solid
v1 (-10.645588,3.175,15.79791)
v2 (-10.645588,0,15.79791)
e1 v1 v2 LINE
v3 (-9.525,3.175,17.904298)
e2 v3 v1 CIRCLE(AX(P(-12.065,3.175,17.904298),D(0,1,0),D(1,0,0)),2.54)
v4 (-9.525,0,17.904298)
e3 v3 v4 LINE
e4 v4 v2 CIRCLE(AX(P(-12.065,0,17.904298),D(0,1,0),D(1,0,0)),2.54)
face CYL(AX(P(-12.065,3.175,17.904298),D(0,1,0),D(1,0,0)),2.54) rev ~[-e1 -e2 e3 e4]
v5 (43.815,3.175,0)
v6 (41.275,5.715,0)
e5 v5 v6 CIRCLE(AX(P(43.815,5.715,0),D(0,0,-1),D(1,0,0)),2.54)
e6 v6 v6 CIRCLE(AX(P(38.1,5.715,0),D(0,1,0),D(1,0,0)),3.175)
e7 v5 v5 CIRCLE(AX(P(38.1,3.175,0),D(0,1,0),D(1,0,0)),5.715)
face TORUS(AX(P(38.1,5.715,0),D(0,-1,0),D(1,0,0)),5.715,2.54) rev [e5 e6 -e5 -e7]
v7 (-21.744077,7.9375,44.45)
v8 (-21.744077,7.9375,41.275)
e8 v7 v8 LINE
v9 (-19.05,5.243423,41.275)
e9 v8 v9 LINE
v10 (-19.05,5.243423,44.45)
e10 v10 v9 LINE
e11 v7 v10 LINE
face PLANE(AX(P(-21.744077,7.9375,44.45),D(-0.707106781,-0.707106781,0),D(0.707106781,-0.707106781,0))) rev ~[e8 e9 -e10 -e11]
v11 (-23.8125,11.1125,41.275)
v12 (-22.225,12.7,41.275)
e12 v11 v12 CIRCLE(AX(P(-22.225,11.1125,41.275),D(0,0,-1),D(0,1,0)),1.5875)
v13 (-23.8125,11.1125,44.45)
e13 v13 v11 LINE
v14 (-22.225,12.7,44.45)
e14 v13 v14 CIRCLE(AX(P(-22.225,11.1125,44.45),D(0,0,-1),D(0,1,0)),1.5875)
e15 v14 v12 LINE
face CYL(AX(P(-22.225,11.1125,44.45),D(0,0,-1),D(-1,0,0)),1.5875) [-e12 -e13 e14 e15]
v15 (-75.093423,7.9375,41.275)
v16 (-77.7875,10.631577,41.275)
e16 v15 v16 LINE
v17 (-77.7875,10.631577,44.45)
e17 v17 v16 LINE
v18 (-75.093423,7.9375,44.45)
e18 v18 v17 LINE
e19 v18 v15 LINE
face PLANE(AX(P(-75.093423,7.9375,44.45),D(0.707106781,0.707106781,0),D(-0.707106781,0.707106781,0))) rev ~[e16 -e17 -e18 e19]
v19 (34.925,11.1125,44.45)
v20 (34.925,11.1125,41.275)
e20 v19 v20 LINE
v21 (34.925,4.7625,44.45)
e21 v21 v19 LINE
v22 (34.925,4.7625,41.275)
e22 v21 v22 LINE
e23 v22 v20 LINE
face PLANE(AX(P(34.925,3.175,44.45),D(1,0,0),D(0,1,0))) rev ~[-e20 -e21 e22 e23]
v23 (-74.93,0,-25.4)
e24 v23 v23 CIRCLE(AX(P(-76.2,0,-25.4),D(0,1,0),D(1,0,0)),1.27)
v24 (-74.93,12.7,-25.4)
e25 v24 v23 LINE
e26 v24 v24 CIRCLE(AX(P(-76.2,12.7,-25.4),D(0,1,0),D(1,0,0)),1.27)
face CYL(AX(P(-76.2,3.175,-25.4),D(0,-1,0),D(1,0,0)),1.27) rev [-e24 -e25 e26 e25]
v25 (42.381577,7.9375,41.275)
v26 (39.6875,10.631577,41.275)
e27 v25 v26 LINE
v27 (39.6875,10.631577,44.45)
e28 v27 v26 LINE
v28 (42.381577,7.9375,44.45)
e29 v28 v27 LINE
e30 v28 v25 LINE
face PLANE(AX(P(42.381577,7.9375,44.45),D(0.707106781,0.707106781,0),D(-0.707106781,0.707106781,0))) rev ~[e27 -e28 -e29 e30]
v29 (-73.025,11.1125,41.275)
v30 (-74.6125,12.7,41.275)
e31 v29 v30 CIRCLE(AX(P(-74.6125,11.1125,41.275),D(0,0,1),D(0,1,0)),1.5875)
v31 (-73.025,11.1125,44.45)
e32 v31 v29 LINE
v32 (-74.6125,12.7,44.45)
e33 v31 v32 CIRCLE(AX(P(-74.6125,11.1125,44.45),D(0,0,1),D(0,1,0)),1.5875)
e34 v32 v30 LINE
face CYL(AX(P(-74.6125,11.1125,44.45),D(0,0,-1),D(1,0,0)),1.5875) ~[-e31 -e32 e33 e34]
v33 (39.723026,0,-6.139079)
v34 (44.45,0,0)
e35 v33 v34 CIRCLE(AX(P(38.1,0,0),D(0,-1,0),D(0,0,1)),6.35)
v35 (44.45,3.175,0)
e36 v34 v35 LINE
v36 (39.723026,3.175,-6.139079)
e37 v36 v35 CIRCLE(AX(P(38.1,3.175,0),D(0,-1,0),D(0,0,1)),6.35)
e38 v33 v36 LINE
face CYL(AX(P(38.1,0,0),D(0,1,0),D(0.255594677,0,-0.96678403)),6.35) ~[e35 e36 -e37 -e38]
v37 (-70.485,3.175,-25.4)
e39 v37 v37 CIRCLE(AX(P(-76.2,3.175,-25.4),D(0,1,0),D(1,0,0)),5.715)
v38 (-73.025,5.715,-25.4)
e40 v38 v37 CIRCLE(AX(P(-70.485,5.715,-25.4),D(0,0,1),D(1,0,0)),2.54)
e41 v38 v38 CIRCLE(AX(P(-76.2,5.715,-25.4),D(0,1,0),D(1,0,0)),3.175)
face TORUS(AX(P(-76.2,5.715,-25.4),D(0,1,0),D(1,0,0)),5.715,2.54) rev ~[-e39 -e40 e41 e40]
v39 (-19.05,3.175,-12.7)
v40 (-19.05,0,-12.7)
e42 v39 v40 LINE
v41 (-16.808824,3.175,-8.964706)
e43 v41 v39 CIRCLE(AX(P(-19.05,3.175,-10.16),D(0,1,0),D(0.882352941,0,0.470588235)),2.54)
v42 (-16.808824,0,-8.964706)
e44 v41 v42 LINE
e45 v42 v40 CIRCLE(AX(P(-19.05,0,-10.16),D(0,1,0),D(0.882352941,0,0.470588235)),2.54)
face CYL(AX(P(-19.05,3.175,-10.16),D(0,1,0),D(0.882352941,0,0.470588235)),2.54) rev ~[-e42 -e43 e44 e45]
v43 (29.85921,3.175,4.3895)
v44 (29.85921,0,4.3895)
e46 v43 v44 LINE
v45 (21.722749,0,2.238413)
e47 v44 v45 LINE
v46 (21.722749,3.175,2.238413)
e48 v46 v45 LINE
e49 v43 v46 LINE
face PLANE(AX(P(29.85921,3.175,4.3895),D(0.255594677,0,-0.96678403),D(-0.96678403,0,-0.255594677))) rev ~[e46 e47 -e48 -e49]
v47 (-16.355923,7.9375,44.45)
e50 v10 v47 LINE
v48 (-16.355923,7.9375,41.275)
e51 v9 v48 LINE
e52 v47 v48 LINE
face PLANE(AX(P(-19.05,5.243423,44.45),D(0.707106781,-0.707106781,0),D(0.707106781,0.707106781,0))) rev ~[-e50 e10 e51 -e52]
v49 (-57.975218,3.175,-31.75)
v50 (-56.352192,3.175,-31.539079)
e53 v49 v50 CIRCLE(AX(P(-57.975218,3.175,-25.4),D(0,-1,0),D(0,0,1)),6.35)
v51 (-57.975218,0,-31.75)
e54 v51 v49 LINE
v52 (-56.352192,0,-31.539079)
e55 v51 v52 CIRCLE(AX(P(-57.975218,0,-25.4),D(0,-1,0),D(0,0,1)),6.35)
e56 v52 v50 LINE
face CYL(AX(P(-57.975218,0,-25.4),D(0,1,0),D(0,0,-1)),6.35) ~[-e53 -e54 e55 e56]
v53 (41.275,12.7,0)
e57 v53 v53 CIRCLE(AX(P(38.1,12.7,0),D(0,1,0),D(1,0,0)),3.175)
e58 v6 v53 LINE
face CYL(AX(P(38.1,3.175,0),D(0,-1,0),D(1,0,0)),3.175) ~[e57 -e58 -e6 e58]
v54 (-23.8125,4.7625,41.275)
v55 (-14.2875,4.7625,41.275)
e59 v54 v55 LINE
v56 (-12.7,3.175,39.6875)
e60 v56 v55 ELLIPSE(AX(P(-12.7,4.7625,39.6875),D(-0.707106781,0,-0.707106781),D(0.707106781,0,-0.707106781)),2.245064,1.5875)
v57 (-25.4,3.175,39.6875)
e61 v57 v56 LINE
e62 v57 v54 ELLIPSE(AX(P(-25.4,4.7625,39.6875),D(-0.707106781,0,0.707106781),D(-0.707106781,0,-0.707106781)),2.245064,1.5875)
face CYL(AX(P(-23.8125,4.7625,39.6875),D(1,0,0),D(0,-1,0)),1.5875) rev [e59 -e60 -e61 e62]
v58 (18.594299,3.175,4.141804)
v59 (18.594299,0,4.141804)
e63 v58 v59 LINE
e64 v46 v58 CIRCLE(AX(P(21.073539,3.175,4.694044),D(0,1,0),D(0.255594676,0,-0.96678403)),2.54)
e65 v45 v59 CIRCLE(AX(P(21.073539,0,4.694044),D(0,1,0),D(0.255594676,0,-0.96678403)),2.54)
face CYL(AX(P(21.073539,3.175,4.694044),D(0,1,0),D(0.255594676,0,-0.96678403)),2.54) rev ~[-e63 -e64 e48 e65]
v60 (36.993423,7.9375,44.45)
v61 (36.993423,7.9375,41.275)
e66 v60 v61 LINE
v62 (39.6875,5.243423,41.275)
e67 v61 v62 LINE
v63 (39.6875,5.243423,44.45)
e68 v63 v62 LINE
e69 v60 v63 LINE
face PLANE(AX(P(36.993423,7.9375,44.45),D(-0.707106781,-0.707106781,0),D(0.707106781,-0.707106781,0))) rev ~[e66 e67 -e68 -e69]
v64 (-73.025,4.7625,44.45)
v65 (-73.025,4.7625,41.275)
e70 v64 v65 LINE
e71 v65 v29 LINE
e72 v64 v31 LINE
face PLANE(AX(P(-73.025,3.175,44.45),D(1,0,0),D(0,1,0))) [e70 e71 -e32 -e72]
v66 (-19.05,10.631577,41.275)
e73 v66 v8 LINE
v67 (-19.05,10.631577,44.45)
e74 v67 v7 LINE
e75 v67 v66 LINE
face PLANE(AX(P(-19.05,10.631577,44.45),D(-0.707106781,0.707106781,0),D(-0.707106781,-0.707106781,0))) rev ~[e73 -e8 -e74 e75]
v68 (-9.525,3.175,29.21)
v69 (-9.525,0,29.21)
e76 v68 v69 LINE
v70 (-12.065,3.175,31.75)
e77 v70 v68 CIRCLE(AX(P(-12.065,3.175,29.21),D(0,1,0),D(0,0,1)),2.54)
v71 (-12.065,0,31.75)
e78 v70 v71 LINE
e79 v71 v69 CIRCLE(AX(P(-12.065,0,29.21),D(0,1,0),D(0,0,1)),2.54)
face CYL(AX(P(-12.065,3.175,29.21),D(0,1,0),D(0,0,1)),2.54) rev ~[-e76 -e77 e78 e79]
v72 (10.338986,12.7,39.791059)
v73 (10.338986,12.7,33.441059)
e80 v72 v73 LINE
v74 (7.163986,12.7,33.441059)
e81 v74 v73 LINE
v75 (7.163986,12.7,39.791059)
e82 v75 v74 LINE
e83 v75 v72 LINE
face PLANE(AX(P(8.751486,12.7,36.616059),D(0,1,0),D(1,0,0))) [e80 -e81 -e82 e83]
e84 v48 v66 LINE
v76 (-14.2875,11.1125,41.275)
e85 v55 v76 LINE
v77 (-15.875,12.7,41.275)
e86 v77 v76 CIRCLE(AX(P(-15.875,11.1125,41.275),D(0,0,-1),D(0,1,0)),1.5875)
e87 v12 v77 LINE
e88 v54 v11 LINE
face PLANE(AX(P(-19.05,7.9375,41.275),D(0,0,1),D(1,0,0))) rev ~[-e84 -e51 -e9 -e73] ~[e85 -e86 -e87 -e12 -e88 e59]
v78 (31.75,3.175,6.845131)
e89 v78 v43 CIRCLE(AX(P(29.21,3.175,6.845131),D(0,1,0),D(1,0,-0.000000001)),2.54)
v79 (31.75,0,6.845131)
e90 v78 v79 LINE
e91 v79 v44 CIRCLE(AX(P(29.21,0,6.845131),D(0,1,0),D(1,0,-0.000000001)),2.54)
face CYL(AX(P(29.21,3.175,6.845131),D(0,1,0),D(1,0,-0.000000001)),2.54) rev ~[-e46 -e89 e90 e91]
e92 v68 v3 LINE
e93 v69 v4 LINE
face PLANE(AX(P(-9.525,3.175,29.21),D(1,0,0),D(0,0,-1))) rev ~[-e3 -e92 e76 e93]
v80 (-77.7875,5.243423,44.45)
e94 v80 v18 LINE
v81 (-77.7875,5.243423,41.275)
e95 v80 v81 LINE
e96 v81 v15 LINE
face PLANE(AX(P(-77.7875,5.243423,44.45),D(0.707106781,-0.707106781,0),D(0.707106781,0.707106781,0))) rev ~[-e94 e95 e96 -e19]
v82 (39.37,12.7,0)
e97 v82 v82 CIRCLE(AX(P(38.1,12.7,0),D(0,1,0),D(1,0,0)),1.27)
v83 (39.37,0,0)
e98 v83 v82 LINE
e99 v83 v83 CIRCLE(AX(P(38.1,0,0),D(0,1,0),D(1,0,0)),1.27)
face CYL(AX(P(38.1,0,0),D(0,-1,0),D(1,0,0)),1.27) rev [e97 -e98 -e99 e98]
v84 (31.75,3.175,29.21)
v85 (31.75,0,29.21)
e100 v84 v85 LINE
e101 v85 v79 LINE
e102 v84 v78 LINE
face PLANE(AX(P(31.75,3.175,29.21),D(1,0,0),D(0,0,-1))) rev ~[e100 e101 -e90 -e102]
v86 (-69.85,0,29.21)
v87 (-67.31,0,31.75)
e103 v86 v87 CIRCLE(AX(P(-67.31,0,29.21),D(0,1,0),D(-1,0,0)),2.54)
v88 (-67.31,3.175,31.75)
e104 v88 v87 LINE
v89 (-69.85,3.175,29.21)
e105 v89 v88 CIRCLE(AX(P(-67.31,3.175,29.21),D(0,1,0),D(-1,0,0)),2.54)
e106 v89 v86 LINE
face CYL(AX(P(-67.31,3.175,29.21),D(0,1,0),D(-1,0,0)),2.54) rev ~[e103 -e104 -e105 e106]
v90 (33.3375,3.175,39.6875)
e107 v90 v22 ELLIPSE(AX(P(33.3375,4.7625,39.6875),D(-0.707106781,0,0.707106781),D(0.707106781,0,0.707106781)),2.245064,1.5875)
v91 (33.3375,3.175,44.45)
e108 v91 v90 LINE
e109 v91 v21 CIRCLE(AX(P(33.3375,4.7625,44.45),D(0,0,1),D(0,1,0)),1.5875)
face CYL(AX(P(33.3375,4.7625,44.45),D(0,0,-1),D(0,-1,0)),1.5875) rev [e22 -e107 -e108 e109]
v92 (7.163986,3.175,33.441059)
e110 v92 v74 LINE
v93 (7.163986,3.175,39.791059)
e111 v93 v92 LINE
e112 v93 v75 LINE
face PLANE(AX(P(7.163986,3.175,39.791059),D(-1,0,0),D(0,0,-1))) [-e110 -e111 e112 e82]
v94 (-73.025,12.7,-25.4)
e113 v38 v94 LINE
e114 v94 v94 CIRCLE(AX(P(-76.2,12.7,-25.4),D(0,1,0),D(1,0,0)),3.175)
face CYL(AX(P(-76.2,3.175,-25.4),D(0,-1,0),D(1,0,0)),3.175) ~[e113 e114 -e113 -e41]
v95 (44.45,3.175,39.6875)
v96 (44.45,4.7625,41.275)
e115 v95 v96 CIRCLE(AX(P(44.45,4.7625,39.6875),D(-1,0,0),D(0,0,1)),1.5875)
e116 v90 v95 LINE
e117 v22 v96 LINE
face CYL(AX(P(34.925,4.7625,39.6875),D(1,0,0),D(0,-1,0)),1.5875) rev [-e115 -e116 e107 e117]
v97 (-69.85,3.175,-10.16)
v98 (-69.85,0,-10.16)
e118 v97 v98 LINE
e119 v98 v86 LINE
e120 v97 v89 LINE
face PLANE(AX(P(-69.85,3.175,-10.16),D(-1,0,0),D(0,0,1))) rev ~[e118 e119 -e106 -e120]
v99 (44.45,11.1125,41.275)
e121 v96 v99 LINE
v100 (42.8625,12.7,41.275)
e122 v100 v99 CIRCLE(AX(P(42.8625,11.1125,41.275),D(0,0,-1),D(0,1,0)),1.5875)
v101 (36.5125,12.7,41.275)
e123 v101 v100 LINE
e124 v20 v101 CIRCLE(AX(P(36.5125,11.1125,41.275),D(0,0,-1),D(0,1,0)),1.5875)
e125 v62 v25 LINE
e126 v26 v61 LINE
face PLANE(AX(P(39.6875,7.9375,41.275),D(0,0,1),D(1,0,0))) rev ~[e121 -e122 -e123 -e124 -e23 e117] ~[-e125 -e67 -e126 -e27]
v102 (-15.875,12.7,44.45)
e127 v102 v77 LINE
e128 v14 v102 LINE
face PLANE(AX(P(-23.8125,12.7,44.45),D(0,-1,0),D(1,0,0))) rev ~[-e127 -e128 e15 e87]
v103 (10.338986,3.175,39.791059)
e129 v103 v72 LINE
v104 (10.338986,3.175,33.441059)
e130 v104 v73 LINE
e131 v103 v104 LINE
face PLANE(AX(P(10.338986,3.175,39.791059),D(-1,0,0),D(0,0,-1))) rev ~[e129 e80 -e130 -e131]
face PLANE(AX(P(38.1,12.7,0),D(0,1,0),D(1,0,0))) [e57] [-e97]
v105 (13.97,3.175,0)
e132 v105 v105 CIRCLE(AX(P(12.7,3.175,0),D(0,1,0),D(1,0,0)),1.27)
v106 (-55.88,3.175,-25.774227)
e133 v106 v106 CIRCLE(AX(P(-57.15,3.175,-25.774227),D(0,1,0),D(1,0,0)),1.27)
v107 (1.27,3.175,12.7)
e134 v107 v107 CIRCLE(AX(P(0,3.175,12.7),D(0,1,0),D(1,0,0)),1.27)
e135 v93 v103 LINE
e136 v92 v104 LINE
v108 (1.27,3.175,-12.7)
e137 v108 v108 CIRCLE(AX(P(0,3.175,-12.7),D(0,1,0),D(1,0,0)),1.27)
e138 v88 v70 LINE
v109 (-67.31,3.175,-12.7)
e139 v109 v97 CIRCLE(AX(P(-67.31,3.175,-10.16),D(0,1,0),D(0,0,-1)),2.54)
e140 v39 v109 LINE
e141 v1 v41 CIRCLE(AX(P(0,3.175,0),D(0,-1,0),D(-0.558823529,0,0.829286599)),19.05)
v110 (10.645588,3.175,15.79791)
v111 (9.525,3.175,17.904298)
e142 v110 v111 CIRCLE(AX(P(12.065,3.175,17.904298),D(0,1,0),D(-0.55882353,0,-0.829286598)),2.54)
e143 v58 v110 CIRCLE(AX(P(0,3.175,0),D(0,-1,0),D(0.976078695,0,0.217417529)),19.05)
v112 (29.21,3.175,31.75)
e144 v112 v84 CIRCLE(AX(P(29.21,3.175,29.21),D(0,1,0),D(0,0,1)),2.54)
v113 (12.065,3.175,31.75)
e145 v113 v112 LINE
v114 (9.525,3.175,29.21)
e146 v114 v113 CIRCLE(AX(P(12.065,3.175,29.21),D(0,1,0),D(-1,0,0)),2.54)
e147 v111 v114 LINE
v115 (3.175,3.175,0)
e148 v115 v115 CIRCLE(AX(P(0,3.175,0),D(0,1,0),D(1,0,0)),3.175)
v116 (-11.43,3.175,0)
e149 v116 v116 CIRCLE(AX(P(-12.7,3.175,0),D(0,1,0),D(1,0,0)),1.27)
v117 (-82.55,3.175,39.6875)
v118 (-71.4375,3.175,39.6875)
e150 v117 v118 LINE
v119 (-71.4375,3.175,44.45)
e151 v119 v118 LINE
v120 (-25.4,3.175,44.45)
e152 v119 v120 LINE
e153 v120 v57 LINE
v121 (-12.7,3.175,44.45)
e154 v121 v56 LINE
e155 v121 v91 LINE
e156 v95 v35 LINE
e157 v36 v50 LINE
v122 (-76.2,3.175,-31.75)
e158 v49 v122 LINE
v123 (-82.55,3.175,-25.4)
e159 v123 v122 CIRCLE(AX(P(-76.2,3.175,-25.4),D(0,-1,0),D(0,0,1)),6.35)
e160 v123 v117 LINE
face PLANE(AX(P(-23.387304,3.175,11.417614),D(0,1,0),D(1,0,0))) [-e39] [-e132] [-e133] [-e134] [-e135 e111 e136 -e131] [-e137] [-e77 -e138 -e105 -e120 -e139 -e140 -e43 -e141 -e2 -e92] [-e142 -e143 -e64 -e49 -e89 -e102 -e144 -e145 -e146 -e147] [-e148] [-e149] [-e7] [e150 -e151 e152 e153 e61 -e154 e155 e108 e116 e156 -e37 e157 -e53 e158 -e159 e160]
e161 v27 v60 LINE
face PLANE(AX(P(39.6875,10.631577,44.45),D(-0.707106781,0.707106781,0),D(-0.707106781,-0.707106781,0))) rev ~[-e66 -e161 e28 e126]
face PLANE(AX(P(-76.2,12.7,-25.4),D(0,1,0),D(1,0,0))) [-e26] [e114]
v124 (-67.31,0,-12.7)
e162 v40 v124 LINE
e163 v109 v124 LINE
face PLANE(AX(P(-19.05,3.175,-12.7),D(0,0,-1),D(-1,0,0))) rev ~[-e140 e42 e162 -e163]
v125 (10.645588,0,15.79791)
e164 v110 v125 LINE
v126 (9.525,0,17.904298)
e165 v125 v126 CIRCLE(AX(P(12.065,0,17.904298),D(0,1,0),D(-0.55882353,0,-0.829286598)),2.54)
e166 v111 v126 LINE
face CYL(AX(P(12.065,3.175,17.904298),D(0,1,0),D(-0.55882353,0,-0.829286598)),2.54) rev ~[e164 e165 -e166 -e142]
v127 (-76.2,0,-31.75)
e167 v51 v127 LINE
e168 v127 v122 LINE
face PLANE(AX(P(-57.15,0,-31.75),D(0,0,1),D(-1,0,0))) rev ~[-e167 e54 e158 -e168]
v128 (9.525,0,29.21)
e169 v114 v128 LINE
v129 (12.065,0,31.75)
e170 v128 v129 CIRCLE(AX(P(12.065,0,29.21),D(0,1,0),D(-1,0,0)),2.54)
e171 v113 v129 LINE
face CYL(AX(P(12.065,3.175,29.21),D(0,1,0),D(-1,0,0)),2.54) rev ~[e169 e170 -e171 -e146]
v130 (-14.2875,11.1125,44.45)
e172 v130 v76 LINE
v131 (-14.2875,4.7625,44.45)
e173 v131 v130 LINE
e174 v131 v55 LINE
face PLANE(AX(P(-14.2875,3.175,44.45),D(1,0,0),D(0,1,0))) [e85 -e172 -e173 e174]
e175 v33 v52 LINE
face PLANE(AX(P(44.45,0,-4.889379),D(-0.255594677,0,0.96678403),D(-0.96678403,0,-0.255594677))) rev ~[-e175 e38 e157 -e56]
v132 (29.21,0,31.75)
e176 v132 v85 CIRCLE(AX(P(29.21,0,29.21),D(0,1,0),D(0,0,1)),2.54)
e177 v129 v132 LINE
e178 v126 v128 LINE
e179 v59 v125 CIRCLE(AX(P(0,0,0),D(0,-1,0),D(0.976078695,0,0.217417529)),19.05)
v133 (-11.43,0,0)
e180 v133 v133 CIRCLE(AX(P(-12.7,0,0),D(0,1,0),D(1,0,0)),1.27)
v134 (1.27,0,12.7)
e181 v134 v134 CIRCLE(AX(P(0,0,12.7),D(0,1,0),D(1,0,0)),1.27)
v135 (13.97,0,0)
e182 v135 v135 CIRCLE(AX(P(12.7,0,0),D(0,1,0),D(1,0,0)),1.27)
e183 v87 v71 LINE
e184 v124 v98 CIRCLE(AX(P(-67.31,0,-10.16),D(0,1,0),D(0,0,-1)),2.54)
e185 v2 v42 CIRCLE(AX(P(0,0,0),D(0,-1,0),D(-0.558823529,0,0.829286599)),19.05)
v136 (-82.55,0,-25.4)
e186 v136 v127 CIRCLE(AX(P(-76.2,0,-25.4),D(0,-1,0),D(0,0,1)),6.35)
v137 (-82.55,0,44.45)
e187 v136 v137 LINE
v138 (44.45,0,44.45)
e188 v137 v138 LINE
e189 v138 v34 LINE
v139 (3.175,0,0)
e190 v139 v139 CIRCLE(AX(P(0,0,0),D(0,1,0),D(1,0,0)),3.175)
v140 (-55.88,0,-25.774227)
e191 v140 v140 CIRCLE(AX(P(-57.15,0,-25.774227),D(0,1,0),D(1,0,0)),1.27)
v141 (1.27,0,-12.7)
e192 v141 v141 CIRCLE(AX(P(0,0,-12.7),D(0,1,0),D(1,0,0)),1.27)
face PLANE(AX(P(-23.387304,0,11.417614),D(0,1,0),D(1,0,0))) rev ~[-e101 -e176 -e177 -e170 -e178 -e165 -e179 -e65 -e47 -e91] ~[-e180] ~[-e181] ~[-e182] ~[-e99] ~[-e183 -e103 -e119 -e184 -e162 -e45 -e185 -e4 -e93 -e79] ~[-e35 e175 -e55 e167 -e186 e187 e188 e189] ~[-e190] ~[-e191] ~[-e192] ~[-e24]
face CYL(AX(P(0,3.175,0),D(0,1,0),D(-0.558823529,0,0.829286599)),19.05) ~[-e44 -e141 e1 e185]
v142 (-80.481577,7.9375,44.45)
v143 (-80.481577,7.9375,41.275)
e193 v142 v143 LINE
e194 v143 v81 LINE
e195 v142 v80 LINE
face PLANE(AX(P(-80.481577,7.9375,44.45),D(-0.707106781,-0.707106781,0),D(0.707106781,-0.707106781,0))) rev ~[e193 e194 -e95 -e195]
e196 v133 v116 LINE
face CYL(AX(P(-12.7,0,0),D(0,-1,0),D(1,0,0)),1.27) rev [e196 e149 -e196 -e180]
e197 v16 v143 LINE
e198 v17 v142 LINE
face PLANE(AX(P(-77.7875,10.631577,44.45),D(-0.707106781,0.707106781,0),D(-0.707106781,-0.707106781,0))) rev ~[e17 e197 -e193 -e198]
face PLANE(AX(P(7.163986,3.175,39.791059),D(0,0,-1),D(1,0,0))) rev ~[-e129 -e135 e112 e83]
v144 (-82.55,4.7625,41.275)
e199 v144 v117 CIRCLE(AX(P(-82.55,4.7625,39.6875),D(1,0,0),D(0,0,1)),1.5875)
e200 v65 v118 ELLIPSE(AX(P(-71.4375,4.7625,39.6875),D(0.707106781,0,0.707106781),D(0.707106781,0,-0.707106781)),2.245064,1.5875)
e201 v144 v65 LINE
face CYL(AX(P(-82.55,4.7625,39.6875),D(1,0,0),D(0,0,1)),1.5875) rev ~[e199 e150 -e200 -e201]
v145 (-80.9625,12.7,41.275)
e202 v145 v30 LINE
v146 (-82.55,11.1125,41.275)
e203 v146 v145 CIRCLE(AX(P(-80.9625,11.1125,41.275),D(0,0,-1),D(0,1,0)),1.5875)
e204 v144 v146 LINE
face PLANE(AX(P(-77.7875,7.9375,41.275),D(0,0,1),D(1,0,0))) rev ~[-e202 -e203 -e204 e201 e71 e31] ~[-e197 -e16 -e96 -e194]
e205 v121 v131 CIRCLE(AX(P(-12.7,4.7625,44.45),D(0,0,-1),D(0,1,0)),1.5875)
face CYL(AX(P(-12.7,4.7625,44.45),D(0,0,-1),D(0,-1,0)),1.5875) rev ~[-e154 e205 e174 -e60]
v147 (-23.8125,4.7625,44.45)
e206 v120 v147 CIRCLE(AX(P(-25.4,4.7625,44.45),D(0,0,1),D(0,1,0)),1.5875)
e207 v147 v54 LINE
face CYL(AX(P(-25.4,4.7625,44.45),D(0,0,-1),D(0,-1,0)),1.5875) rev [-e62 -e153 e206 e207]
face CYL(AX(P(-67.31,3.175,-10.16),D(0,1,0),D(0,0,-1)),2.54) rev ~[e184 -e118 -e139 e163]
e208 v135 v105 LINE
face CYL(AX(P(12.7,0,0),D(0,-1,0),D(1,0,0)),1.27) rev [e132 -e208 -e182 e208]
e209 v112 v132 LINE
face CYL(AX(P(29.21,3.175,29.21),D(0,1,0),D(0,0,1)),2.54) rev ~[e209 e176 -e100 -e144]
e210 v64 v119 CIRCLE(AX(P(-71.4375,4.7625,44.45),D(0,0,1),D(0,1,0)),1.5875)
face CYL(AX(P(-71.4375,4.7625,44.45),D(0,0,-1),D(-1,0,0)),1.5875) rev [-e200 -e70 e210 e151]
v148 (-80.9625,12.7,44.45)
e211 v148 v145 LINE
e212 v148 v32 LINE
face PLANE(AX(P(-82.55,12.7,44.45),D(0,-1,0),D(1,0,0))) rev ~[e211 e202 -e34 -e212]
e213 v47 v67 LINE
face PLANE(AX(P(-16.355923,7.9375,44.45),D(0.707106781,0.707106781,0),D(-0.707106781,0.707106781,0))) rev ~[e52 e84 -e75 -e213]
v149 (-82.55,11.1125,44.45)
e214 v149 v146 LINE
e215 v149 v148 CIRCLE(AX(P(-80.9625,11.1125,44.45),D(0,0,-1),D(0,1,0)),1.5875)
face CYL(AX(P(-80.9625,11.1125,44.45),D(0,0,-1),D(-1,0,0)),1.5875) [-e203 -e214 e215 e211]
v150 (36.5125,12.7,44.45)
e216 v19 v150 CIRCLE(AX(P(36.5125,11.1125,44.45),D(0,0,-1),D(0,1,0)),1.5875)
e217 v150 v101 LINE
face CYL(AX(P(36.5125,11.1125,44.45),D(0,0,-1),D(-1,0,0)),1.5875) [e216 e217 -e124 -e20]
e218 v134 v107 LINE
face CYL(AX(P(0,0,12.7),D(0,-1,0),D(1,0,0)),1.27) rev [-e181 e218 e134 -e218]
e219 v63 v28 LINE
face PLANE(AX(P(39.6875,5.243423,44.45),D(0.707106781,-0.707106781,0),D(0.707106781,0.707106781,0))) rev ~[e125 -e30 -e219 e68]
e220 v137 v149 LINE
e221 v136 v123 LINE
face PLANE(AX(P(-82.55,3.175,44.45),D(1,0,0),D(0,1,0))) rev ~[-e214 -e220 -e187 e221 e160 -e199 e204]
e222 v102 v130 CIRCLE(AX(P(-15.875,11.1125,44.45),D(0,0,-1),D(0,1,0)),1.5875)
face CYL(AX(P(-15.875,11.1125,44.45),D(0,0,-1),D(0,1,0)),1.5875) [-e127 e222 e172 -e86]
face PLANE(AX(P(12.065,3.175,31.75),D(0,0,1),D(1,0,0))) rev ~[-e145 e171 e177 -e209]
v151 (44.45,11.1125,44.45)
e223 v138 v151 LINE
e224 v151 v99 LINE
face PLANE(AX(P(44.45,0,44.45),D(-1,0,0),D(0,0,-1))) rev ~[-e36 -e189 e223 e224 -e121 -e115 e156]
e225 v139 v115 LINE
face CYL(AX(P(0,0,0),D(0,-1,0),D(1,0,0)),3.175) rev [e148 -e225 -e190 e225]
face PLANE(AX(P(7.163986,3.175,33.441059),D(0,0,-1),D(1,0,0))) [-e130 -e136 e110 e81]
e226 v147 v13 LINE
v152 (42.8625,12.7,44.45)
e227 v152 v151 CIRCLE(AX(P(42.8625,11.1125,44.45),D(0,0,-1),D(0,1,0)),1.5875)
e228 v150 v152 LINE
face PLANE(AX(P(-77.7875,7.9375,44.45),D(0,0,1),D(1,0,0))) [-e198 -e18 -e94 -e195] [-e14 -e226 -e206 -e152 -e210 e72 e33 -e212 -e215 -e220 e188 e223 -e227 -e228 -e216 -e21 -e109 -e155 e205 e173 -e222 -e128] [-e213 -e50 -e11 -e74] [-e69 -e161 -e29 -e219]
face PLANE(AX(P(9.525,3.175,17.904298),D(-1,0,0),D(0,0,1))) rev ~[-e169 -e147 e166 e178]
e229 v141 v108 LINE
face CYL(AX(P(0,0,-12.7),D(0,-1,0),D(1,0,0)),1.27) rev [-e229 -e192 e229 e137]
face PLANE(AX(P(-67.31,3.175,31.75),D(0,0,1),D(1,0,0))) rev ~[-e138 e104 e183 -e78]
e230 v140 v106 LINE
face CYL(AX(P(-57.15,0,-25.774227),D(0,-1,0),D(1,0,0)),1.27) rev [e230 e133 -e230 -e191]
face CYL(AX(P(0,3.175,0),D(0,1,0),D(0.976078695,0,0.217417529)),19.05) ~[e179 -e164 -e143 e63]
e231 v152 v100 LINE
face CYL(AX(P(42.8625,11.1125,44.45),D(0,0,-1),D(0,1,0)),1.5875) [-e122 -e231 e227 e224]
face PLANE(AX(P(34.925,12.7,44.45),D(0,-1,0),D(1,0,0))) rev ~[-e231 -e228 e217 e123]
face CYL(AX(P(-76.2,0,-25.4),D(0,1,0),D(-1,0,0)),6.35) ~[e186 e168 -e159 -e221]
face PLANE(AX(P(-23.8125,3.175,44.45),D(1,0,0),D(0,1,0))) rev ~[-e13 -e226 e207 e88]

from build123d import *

# Parameters (mm, degrees)
SKETCH1_R           = 3.175
SKETCH1_R_2         = 1.27
BOSS_EXTRUDE1_DEPTH = 3.175
CUT_EXTRUDE1_DEPTH  = 3.175
FILLET1_R           = 6.35
SKETCH3_W           = 9.525
SKETCH3_H           = 9.525
BOSS_EXTRUDE2_DEPTH = 3.175
FILLET2_R           = 1.5875
SKETCH4_R           = 3.175
SKETCH4_R_2         = 1.27
BOSS_EXTRUDE3_DEPTH = 9.525
SKETCH5_W           = 3.175
SKETCH5_H           = 6.35
BOSS_EXTRUDE4_DEPTH = 9.525
FILLET4_R           = 2.54


with BuildPart() as part:
    # Sketch1 → Boss-Extrude1 (new body)
    with BuildSketch(Plane(origin=(0, 0, 0), x_dir=(1, 0, 0), z_dir=(0, 1, 0))):
        Polygon((-82.55, 31.75), (-82.55, -44.45), (44.45, -44.45), (44.45, 4.889379277), (-57.15, 31.75), align=None)
        Circle(SKETCH1_R, mode=Mode.SUBTRACT)
        with Locations((0, 12.7)):
            Circle(SKETCH1_R_2, mode=Mode.SUBTRACT)
        with Locations((12.7, 0)):
            Circle(SKETCH1_R_2, mode=Mode.SUBTRACT)
        with Locations((0, -12.7)):
            Circle(SKETCH1_R_2, mode=Mode.SUBTRACT)
        with Locations((-12.7, 0)):
            Circle(SKETCH1_R_2, mode=Mode.SUBTRACT)
        with Locations((-57.15, 25.774227063)):
            Circle(SKETCH1_R_2, mode=Mode.SUBTRACT)
        with Locations((-76.2, 25.4)):
            Circle(SKETCH1_R_2, mode=Mode.SUBTRACT)
        with Locations((38.1, 0)):
            Circle(SKETCH1_R_2, mode=Mode.SUBTRACT)
    extrude(amount=BOSS_EXTRUDE1_DEPTH)

    # Sketch2 → Cut-Extrude1 (cut)
    with BuildSketch(Plane(origin=(0, 3.175, 0), x_dir=(1, 0, 0), z_dir=(0, 1, 0))):
        with BuildLine():
            Line((-69.85, 10.16), (-69.85, -29.21))
            ThreePointArc((-69.85, -29.21), (-69.106051224, -31.006051224), (-67.31, -31.75))
            Line((-67.31, -31.75), (-12.065, -31.75))
            ThreePointArc((-12.065, -31.75), (-10.268948776, -31.006051224), (-9.525, -29.21))
            Line((-9.525, -29.21), (-9.525, -17.904297668))
            ThreePointArc((-9.525, -17.904297668), (-9.822578777, -16.711340394), (-10.645588235, -15.797909707))
            ThreePointArc((-10.645588235, -15.797909707), (-18.486020774, -4.6010364), (-16.808823529, 8.964705882))
            ThreePointArc((-16.808823529, 8.964705882), (-16.871967969, 11.466819219), (-19.05, 12.7))
            Line((-19.05, 12.7), (-67.31, 12.7))
            ThreePointArc((-67.31, 12.7), (-69.106051224, 11.956051224), (-69.85, 10.16))
        make_face()
        with BuildLine():
            Line((9.525, -17.904297668), (9.525, -29.21))
            ThreePointArc((9.525, -29.21), (10.268948776, -31.006051224), (12.065, -31.75))
            Line((12.065, -31.75), (29.21, -31.75))
            ThreePointArc((29.21, -31.75), (31.006051224, -31.006051224), (31.75, -29.21))
            Line((31.75, -29.21), (31.75, -6.845130987))
            ThreePointArc((31.75, -6.845130987), (31.222535045, -5.295517264), (29.859210479, -4.38949955))
            Line((29.859210479, -4.38949955), (21.722749497, -2.23841301))
            ThreePointArc((21.722749497, -2.23841301), (19.753320798, -2.524108077), (18.594299133, -4.141803924))
            ThreePointArc((18.594299133, -4.141803924), (15.73877231, -10.732825637), (10.645588235, -15.797909707))
            ThreePointArc((10.645588235, -15.797909707), (9.822578777, -16.711340394), (9.525, -17.904297668))
        make_face()
    extrude(amount=-CUT_EXTRUDE1_DEPTH, mode=Mode.SUBTRACT)

    # Fillet1
    fillet1_edges = [part.edges().sort_by_distance(p)[0] for p in [
        (-57.15, 1.5875, -31.75),
        (44.45, 1.5875, -4.889379277),
        (-82.55, 1.5875, -31.75),
    ]]
    fillet(fillet1_edges, radius=FILLET1_R)

    # Sketch3 → Boss-Extrude2 (add)
    with BuildSketch(Plane.XY.offset(44.45)):
        with Locations((-77.7875, 7.9375)):
            Rectangle(SKETCH3_W, SKETCH3_H)
        Polygon((-77.7875, 5.243423164), (-75.093423164, 7.9375), (-77.7875, 10.631576836), (-80.481576836, 7.9375), align=None, mode=Mode.SUBTRACT)
        with Locations((39.6875, 7.9375)):
            Rectangle(SKETCH3_W, SKETCH3_H)
        Polygon((39.6875, 5.243423164), (42.381576836, 7.9375), (39.6875, 10.631576836), (36.993423164, 7.9375), align=None, mode=Mode.SUBTRACT)
        with Locations((-19.05, 7.9375)):
            Rectangle(SKETCH3_W, SKETCH3_H)
        Polygon((-19.05, 5.243423164), (-16.355923164, 7.9375), (-19.05, 10.631576836), (-21.744076836, 7.9375), align=None, mode=Mode.SUBTRACT)
    extrude(amount=-BOSS_EXTRUDE2_DEPTH)

    # Fillet2
    fillet2_edges = [part.edges().sort_by_distance(p)[0] for p in [
        (-82.55, 12.7, 42.8625),
        (-73.025, 12.7, 42.8625),
        (-77.7875, 3.175, 41.275),
        (-73.025, 3.175, 42.8625),
        (44.45, 12.7, 42.8625),
        (39.6875, 3.175, 41.275),
        (34.925, 3.175, 42.8625),
        (34.925, 12.7, 42.8625),
        (-23.8125, 3.175, 42.8625),
        (-23.8125, 12.7, 42.8625),
        (-14.2875, 12.7, 42.8625),
        (-19.05, 3.175, 41.275),
        (-14.2875, 3.175, 42.8625),
    ]]
    fillet(fillet2_edges, radius=FILLET2_R)

    # Sketch4 → Boss-Extrude3 (add)
    with BuildSketch(Plane(origin=(0, 3.175, 0), x_dir=(1, 0, 0), z_dir=(0, 1, 0))):
        with Locations((-76.2, 25.4)):
            Circle(SKETCH4_R)
        with Locations((-76.2, 25.4)):
            Circle(SKETCH4_R_2, mode=Mode.SUBTRACT)
        with Locations((38.1, 0)):
            Circle(SKETCH4_R)
        with Locations((38.1, 0)):
            Circle(SKETCH4_R_2, mode=Mode.SUBTRACT)
    extrude(amount=BOSS_EXTRUDE3_DEPTH)

    # Sketch5 → Boss-Extrude4 (add)
    with BuildSketch(Plane(origin=(0, 3.175, 0), x_dir=(1, 0, 0), z_dir=(0, 1, 0))):
        with Locations((8.751486047, -36.616058846)):
            Rectangle(SKETCH5_W, SKETCH5_H)
    extrude(amount=BOSS_EXTRUDE4_DEPTH)

    # Fillet4
    fillet4_edges = [part.edges().sort_by_distance(p)[0] for p in [
        (-79.375, 3.175, -25.4),
        (34.925, 3.175, 0),
    ]]
    fillet(fillet4_edges, radius=FILLET4_R)


solid = part.part
